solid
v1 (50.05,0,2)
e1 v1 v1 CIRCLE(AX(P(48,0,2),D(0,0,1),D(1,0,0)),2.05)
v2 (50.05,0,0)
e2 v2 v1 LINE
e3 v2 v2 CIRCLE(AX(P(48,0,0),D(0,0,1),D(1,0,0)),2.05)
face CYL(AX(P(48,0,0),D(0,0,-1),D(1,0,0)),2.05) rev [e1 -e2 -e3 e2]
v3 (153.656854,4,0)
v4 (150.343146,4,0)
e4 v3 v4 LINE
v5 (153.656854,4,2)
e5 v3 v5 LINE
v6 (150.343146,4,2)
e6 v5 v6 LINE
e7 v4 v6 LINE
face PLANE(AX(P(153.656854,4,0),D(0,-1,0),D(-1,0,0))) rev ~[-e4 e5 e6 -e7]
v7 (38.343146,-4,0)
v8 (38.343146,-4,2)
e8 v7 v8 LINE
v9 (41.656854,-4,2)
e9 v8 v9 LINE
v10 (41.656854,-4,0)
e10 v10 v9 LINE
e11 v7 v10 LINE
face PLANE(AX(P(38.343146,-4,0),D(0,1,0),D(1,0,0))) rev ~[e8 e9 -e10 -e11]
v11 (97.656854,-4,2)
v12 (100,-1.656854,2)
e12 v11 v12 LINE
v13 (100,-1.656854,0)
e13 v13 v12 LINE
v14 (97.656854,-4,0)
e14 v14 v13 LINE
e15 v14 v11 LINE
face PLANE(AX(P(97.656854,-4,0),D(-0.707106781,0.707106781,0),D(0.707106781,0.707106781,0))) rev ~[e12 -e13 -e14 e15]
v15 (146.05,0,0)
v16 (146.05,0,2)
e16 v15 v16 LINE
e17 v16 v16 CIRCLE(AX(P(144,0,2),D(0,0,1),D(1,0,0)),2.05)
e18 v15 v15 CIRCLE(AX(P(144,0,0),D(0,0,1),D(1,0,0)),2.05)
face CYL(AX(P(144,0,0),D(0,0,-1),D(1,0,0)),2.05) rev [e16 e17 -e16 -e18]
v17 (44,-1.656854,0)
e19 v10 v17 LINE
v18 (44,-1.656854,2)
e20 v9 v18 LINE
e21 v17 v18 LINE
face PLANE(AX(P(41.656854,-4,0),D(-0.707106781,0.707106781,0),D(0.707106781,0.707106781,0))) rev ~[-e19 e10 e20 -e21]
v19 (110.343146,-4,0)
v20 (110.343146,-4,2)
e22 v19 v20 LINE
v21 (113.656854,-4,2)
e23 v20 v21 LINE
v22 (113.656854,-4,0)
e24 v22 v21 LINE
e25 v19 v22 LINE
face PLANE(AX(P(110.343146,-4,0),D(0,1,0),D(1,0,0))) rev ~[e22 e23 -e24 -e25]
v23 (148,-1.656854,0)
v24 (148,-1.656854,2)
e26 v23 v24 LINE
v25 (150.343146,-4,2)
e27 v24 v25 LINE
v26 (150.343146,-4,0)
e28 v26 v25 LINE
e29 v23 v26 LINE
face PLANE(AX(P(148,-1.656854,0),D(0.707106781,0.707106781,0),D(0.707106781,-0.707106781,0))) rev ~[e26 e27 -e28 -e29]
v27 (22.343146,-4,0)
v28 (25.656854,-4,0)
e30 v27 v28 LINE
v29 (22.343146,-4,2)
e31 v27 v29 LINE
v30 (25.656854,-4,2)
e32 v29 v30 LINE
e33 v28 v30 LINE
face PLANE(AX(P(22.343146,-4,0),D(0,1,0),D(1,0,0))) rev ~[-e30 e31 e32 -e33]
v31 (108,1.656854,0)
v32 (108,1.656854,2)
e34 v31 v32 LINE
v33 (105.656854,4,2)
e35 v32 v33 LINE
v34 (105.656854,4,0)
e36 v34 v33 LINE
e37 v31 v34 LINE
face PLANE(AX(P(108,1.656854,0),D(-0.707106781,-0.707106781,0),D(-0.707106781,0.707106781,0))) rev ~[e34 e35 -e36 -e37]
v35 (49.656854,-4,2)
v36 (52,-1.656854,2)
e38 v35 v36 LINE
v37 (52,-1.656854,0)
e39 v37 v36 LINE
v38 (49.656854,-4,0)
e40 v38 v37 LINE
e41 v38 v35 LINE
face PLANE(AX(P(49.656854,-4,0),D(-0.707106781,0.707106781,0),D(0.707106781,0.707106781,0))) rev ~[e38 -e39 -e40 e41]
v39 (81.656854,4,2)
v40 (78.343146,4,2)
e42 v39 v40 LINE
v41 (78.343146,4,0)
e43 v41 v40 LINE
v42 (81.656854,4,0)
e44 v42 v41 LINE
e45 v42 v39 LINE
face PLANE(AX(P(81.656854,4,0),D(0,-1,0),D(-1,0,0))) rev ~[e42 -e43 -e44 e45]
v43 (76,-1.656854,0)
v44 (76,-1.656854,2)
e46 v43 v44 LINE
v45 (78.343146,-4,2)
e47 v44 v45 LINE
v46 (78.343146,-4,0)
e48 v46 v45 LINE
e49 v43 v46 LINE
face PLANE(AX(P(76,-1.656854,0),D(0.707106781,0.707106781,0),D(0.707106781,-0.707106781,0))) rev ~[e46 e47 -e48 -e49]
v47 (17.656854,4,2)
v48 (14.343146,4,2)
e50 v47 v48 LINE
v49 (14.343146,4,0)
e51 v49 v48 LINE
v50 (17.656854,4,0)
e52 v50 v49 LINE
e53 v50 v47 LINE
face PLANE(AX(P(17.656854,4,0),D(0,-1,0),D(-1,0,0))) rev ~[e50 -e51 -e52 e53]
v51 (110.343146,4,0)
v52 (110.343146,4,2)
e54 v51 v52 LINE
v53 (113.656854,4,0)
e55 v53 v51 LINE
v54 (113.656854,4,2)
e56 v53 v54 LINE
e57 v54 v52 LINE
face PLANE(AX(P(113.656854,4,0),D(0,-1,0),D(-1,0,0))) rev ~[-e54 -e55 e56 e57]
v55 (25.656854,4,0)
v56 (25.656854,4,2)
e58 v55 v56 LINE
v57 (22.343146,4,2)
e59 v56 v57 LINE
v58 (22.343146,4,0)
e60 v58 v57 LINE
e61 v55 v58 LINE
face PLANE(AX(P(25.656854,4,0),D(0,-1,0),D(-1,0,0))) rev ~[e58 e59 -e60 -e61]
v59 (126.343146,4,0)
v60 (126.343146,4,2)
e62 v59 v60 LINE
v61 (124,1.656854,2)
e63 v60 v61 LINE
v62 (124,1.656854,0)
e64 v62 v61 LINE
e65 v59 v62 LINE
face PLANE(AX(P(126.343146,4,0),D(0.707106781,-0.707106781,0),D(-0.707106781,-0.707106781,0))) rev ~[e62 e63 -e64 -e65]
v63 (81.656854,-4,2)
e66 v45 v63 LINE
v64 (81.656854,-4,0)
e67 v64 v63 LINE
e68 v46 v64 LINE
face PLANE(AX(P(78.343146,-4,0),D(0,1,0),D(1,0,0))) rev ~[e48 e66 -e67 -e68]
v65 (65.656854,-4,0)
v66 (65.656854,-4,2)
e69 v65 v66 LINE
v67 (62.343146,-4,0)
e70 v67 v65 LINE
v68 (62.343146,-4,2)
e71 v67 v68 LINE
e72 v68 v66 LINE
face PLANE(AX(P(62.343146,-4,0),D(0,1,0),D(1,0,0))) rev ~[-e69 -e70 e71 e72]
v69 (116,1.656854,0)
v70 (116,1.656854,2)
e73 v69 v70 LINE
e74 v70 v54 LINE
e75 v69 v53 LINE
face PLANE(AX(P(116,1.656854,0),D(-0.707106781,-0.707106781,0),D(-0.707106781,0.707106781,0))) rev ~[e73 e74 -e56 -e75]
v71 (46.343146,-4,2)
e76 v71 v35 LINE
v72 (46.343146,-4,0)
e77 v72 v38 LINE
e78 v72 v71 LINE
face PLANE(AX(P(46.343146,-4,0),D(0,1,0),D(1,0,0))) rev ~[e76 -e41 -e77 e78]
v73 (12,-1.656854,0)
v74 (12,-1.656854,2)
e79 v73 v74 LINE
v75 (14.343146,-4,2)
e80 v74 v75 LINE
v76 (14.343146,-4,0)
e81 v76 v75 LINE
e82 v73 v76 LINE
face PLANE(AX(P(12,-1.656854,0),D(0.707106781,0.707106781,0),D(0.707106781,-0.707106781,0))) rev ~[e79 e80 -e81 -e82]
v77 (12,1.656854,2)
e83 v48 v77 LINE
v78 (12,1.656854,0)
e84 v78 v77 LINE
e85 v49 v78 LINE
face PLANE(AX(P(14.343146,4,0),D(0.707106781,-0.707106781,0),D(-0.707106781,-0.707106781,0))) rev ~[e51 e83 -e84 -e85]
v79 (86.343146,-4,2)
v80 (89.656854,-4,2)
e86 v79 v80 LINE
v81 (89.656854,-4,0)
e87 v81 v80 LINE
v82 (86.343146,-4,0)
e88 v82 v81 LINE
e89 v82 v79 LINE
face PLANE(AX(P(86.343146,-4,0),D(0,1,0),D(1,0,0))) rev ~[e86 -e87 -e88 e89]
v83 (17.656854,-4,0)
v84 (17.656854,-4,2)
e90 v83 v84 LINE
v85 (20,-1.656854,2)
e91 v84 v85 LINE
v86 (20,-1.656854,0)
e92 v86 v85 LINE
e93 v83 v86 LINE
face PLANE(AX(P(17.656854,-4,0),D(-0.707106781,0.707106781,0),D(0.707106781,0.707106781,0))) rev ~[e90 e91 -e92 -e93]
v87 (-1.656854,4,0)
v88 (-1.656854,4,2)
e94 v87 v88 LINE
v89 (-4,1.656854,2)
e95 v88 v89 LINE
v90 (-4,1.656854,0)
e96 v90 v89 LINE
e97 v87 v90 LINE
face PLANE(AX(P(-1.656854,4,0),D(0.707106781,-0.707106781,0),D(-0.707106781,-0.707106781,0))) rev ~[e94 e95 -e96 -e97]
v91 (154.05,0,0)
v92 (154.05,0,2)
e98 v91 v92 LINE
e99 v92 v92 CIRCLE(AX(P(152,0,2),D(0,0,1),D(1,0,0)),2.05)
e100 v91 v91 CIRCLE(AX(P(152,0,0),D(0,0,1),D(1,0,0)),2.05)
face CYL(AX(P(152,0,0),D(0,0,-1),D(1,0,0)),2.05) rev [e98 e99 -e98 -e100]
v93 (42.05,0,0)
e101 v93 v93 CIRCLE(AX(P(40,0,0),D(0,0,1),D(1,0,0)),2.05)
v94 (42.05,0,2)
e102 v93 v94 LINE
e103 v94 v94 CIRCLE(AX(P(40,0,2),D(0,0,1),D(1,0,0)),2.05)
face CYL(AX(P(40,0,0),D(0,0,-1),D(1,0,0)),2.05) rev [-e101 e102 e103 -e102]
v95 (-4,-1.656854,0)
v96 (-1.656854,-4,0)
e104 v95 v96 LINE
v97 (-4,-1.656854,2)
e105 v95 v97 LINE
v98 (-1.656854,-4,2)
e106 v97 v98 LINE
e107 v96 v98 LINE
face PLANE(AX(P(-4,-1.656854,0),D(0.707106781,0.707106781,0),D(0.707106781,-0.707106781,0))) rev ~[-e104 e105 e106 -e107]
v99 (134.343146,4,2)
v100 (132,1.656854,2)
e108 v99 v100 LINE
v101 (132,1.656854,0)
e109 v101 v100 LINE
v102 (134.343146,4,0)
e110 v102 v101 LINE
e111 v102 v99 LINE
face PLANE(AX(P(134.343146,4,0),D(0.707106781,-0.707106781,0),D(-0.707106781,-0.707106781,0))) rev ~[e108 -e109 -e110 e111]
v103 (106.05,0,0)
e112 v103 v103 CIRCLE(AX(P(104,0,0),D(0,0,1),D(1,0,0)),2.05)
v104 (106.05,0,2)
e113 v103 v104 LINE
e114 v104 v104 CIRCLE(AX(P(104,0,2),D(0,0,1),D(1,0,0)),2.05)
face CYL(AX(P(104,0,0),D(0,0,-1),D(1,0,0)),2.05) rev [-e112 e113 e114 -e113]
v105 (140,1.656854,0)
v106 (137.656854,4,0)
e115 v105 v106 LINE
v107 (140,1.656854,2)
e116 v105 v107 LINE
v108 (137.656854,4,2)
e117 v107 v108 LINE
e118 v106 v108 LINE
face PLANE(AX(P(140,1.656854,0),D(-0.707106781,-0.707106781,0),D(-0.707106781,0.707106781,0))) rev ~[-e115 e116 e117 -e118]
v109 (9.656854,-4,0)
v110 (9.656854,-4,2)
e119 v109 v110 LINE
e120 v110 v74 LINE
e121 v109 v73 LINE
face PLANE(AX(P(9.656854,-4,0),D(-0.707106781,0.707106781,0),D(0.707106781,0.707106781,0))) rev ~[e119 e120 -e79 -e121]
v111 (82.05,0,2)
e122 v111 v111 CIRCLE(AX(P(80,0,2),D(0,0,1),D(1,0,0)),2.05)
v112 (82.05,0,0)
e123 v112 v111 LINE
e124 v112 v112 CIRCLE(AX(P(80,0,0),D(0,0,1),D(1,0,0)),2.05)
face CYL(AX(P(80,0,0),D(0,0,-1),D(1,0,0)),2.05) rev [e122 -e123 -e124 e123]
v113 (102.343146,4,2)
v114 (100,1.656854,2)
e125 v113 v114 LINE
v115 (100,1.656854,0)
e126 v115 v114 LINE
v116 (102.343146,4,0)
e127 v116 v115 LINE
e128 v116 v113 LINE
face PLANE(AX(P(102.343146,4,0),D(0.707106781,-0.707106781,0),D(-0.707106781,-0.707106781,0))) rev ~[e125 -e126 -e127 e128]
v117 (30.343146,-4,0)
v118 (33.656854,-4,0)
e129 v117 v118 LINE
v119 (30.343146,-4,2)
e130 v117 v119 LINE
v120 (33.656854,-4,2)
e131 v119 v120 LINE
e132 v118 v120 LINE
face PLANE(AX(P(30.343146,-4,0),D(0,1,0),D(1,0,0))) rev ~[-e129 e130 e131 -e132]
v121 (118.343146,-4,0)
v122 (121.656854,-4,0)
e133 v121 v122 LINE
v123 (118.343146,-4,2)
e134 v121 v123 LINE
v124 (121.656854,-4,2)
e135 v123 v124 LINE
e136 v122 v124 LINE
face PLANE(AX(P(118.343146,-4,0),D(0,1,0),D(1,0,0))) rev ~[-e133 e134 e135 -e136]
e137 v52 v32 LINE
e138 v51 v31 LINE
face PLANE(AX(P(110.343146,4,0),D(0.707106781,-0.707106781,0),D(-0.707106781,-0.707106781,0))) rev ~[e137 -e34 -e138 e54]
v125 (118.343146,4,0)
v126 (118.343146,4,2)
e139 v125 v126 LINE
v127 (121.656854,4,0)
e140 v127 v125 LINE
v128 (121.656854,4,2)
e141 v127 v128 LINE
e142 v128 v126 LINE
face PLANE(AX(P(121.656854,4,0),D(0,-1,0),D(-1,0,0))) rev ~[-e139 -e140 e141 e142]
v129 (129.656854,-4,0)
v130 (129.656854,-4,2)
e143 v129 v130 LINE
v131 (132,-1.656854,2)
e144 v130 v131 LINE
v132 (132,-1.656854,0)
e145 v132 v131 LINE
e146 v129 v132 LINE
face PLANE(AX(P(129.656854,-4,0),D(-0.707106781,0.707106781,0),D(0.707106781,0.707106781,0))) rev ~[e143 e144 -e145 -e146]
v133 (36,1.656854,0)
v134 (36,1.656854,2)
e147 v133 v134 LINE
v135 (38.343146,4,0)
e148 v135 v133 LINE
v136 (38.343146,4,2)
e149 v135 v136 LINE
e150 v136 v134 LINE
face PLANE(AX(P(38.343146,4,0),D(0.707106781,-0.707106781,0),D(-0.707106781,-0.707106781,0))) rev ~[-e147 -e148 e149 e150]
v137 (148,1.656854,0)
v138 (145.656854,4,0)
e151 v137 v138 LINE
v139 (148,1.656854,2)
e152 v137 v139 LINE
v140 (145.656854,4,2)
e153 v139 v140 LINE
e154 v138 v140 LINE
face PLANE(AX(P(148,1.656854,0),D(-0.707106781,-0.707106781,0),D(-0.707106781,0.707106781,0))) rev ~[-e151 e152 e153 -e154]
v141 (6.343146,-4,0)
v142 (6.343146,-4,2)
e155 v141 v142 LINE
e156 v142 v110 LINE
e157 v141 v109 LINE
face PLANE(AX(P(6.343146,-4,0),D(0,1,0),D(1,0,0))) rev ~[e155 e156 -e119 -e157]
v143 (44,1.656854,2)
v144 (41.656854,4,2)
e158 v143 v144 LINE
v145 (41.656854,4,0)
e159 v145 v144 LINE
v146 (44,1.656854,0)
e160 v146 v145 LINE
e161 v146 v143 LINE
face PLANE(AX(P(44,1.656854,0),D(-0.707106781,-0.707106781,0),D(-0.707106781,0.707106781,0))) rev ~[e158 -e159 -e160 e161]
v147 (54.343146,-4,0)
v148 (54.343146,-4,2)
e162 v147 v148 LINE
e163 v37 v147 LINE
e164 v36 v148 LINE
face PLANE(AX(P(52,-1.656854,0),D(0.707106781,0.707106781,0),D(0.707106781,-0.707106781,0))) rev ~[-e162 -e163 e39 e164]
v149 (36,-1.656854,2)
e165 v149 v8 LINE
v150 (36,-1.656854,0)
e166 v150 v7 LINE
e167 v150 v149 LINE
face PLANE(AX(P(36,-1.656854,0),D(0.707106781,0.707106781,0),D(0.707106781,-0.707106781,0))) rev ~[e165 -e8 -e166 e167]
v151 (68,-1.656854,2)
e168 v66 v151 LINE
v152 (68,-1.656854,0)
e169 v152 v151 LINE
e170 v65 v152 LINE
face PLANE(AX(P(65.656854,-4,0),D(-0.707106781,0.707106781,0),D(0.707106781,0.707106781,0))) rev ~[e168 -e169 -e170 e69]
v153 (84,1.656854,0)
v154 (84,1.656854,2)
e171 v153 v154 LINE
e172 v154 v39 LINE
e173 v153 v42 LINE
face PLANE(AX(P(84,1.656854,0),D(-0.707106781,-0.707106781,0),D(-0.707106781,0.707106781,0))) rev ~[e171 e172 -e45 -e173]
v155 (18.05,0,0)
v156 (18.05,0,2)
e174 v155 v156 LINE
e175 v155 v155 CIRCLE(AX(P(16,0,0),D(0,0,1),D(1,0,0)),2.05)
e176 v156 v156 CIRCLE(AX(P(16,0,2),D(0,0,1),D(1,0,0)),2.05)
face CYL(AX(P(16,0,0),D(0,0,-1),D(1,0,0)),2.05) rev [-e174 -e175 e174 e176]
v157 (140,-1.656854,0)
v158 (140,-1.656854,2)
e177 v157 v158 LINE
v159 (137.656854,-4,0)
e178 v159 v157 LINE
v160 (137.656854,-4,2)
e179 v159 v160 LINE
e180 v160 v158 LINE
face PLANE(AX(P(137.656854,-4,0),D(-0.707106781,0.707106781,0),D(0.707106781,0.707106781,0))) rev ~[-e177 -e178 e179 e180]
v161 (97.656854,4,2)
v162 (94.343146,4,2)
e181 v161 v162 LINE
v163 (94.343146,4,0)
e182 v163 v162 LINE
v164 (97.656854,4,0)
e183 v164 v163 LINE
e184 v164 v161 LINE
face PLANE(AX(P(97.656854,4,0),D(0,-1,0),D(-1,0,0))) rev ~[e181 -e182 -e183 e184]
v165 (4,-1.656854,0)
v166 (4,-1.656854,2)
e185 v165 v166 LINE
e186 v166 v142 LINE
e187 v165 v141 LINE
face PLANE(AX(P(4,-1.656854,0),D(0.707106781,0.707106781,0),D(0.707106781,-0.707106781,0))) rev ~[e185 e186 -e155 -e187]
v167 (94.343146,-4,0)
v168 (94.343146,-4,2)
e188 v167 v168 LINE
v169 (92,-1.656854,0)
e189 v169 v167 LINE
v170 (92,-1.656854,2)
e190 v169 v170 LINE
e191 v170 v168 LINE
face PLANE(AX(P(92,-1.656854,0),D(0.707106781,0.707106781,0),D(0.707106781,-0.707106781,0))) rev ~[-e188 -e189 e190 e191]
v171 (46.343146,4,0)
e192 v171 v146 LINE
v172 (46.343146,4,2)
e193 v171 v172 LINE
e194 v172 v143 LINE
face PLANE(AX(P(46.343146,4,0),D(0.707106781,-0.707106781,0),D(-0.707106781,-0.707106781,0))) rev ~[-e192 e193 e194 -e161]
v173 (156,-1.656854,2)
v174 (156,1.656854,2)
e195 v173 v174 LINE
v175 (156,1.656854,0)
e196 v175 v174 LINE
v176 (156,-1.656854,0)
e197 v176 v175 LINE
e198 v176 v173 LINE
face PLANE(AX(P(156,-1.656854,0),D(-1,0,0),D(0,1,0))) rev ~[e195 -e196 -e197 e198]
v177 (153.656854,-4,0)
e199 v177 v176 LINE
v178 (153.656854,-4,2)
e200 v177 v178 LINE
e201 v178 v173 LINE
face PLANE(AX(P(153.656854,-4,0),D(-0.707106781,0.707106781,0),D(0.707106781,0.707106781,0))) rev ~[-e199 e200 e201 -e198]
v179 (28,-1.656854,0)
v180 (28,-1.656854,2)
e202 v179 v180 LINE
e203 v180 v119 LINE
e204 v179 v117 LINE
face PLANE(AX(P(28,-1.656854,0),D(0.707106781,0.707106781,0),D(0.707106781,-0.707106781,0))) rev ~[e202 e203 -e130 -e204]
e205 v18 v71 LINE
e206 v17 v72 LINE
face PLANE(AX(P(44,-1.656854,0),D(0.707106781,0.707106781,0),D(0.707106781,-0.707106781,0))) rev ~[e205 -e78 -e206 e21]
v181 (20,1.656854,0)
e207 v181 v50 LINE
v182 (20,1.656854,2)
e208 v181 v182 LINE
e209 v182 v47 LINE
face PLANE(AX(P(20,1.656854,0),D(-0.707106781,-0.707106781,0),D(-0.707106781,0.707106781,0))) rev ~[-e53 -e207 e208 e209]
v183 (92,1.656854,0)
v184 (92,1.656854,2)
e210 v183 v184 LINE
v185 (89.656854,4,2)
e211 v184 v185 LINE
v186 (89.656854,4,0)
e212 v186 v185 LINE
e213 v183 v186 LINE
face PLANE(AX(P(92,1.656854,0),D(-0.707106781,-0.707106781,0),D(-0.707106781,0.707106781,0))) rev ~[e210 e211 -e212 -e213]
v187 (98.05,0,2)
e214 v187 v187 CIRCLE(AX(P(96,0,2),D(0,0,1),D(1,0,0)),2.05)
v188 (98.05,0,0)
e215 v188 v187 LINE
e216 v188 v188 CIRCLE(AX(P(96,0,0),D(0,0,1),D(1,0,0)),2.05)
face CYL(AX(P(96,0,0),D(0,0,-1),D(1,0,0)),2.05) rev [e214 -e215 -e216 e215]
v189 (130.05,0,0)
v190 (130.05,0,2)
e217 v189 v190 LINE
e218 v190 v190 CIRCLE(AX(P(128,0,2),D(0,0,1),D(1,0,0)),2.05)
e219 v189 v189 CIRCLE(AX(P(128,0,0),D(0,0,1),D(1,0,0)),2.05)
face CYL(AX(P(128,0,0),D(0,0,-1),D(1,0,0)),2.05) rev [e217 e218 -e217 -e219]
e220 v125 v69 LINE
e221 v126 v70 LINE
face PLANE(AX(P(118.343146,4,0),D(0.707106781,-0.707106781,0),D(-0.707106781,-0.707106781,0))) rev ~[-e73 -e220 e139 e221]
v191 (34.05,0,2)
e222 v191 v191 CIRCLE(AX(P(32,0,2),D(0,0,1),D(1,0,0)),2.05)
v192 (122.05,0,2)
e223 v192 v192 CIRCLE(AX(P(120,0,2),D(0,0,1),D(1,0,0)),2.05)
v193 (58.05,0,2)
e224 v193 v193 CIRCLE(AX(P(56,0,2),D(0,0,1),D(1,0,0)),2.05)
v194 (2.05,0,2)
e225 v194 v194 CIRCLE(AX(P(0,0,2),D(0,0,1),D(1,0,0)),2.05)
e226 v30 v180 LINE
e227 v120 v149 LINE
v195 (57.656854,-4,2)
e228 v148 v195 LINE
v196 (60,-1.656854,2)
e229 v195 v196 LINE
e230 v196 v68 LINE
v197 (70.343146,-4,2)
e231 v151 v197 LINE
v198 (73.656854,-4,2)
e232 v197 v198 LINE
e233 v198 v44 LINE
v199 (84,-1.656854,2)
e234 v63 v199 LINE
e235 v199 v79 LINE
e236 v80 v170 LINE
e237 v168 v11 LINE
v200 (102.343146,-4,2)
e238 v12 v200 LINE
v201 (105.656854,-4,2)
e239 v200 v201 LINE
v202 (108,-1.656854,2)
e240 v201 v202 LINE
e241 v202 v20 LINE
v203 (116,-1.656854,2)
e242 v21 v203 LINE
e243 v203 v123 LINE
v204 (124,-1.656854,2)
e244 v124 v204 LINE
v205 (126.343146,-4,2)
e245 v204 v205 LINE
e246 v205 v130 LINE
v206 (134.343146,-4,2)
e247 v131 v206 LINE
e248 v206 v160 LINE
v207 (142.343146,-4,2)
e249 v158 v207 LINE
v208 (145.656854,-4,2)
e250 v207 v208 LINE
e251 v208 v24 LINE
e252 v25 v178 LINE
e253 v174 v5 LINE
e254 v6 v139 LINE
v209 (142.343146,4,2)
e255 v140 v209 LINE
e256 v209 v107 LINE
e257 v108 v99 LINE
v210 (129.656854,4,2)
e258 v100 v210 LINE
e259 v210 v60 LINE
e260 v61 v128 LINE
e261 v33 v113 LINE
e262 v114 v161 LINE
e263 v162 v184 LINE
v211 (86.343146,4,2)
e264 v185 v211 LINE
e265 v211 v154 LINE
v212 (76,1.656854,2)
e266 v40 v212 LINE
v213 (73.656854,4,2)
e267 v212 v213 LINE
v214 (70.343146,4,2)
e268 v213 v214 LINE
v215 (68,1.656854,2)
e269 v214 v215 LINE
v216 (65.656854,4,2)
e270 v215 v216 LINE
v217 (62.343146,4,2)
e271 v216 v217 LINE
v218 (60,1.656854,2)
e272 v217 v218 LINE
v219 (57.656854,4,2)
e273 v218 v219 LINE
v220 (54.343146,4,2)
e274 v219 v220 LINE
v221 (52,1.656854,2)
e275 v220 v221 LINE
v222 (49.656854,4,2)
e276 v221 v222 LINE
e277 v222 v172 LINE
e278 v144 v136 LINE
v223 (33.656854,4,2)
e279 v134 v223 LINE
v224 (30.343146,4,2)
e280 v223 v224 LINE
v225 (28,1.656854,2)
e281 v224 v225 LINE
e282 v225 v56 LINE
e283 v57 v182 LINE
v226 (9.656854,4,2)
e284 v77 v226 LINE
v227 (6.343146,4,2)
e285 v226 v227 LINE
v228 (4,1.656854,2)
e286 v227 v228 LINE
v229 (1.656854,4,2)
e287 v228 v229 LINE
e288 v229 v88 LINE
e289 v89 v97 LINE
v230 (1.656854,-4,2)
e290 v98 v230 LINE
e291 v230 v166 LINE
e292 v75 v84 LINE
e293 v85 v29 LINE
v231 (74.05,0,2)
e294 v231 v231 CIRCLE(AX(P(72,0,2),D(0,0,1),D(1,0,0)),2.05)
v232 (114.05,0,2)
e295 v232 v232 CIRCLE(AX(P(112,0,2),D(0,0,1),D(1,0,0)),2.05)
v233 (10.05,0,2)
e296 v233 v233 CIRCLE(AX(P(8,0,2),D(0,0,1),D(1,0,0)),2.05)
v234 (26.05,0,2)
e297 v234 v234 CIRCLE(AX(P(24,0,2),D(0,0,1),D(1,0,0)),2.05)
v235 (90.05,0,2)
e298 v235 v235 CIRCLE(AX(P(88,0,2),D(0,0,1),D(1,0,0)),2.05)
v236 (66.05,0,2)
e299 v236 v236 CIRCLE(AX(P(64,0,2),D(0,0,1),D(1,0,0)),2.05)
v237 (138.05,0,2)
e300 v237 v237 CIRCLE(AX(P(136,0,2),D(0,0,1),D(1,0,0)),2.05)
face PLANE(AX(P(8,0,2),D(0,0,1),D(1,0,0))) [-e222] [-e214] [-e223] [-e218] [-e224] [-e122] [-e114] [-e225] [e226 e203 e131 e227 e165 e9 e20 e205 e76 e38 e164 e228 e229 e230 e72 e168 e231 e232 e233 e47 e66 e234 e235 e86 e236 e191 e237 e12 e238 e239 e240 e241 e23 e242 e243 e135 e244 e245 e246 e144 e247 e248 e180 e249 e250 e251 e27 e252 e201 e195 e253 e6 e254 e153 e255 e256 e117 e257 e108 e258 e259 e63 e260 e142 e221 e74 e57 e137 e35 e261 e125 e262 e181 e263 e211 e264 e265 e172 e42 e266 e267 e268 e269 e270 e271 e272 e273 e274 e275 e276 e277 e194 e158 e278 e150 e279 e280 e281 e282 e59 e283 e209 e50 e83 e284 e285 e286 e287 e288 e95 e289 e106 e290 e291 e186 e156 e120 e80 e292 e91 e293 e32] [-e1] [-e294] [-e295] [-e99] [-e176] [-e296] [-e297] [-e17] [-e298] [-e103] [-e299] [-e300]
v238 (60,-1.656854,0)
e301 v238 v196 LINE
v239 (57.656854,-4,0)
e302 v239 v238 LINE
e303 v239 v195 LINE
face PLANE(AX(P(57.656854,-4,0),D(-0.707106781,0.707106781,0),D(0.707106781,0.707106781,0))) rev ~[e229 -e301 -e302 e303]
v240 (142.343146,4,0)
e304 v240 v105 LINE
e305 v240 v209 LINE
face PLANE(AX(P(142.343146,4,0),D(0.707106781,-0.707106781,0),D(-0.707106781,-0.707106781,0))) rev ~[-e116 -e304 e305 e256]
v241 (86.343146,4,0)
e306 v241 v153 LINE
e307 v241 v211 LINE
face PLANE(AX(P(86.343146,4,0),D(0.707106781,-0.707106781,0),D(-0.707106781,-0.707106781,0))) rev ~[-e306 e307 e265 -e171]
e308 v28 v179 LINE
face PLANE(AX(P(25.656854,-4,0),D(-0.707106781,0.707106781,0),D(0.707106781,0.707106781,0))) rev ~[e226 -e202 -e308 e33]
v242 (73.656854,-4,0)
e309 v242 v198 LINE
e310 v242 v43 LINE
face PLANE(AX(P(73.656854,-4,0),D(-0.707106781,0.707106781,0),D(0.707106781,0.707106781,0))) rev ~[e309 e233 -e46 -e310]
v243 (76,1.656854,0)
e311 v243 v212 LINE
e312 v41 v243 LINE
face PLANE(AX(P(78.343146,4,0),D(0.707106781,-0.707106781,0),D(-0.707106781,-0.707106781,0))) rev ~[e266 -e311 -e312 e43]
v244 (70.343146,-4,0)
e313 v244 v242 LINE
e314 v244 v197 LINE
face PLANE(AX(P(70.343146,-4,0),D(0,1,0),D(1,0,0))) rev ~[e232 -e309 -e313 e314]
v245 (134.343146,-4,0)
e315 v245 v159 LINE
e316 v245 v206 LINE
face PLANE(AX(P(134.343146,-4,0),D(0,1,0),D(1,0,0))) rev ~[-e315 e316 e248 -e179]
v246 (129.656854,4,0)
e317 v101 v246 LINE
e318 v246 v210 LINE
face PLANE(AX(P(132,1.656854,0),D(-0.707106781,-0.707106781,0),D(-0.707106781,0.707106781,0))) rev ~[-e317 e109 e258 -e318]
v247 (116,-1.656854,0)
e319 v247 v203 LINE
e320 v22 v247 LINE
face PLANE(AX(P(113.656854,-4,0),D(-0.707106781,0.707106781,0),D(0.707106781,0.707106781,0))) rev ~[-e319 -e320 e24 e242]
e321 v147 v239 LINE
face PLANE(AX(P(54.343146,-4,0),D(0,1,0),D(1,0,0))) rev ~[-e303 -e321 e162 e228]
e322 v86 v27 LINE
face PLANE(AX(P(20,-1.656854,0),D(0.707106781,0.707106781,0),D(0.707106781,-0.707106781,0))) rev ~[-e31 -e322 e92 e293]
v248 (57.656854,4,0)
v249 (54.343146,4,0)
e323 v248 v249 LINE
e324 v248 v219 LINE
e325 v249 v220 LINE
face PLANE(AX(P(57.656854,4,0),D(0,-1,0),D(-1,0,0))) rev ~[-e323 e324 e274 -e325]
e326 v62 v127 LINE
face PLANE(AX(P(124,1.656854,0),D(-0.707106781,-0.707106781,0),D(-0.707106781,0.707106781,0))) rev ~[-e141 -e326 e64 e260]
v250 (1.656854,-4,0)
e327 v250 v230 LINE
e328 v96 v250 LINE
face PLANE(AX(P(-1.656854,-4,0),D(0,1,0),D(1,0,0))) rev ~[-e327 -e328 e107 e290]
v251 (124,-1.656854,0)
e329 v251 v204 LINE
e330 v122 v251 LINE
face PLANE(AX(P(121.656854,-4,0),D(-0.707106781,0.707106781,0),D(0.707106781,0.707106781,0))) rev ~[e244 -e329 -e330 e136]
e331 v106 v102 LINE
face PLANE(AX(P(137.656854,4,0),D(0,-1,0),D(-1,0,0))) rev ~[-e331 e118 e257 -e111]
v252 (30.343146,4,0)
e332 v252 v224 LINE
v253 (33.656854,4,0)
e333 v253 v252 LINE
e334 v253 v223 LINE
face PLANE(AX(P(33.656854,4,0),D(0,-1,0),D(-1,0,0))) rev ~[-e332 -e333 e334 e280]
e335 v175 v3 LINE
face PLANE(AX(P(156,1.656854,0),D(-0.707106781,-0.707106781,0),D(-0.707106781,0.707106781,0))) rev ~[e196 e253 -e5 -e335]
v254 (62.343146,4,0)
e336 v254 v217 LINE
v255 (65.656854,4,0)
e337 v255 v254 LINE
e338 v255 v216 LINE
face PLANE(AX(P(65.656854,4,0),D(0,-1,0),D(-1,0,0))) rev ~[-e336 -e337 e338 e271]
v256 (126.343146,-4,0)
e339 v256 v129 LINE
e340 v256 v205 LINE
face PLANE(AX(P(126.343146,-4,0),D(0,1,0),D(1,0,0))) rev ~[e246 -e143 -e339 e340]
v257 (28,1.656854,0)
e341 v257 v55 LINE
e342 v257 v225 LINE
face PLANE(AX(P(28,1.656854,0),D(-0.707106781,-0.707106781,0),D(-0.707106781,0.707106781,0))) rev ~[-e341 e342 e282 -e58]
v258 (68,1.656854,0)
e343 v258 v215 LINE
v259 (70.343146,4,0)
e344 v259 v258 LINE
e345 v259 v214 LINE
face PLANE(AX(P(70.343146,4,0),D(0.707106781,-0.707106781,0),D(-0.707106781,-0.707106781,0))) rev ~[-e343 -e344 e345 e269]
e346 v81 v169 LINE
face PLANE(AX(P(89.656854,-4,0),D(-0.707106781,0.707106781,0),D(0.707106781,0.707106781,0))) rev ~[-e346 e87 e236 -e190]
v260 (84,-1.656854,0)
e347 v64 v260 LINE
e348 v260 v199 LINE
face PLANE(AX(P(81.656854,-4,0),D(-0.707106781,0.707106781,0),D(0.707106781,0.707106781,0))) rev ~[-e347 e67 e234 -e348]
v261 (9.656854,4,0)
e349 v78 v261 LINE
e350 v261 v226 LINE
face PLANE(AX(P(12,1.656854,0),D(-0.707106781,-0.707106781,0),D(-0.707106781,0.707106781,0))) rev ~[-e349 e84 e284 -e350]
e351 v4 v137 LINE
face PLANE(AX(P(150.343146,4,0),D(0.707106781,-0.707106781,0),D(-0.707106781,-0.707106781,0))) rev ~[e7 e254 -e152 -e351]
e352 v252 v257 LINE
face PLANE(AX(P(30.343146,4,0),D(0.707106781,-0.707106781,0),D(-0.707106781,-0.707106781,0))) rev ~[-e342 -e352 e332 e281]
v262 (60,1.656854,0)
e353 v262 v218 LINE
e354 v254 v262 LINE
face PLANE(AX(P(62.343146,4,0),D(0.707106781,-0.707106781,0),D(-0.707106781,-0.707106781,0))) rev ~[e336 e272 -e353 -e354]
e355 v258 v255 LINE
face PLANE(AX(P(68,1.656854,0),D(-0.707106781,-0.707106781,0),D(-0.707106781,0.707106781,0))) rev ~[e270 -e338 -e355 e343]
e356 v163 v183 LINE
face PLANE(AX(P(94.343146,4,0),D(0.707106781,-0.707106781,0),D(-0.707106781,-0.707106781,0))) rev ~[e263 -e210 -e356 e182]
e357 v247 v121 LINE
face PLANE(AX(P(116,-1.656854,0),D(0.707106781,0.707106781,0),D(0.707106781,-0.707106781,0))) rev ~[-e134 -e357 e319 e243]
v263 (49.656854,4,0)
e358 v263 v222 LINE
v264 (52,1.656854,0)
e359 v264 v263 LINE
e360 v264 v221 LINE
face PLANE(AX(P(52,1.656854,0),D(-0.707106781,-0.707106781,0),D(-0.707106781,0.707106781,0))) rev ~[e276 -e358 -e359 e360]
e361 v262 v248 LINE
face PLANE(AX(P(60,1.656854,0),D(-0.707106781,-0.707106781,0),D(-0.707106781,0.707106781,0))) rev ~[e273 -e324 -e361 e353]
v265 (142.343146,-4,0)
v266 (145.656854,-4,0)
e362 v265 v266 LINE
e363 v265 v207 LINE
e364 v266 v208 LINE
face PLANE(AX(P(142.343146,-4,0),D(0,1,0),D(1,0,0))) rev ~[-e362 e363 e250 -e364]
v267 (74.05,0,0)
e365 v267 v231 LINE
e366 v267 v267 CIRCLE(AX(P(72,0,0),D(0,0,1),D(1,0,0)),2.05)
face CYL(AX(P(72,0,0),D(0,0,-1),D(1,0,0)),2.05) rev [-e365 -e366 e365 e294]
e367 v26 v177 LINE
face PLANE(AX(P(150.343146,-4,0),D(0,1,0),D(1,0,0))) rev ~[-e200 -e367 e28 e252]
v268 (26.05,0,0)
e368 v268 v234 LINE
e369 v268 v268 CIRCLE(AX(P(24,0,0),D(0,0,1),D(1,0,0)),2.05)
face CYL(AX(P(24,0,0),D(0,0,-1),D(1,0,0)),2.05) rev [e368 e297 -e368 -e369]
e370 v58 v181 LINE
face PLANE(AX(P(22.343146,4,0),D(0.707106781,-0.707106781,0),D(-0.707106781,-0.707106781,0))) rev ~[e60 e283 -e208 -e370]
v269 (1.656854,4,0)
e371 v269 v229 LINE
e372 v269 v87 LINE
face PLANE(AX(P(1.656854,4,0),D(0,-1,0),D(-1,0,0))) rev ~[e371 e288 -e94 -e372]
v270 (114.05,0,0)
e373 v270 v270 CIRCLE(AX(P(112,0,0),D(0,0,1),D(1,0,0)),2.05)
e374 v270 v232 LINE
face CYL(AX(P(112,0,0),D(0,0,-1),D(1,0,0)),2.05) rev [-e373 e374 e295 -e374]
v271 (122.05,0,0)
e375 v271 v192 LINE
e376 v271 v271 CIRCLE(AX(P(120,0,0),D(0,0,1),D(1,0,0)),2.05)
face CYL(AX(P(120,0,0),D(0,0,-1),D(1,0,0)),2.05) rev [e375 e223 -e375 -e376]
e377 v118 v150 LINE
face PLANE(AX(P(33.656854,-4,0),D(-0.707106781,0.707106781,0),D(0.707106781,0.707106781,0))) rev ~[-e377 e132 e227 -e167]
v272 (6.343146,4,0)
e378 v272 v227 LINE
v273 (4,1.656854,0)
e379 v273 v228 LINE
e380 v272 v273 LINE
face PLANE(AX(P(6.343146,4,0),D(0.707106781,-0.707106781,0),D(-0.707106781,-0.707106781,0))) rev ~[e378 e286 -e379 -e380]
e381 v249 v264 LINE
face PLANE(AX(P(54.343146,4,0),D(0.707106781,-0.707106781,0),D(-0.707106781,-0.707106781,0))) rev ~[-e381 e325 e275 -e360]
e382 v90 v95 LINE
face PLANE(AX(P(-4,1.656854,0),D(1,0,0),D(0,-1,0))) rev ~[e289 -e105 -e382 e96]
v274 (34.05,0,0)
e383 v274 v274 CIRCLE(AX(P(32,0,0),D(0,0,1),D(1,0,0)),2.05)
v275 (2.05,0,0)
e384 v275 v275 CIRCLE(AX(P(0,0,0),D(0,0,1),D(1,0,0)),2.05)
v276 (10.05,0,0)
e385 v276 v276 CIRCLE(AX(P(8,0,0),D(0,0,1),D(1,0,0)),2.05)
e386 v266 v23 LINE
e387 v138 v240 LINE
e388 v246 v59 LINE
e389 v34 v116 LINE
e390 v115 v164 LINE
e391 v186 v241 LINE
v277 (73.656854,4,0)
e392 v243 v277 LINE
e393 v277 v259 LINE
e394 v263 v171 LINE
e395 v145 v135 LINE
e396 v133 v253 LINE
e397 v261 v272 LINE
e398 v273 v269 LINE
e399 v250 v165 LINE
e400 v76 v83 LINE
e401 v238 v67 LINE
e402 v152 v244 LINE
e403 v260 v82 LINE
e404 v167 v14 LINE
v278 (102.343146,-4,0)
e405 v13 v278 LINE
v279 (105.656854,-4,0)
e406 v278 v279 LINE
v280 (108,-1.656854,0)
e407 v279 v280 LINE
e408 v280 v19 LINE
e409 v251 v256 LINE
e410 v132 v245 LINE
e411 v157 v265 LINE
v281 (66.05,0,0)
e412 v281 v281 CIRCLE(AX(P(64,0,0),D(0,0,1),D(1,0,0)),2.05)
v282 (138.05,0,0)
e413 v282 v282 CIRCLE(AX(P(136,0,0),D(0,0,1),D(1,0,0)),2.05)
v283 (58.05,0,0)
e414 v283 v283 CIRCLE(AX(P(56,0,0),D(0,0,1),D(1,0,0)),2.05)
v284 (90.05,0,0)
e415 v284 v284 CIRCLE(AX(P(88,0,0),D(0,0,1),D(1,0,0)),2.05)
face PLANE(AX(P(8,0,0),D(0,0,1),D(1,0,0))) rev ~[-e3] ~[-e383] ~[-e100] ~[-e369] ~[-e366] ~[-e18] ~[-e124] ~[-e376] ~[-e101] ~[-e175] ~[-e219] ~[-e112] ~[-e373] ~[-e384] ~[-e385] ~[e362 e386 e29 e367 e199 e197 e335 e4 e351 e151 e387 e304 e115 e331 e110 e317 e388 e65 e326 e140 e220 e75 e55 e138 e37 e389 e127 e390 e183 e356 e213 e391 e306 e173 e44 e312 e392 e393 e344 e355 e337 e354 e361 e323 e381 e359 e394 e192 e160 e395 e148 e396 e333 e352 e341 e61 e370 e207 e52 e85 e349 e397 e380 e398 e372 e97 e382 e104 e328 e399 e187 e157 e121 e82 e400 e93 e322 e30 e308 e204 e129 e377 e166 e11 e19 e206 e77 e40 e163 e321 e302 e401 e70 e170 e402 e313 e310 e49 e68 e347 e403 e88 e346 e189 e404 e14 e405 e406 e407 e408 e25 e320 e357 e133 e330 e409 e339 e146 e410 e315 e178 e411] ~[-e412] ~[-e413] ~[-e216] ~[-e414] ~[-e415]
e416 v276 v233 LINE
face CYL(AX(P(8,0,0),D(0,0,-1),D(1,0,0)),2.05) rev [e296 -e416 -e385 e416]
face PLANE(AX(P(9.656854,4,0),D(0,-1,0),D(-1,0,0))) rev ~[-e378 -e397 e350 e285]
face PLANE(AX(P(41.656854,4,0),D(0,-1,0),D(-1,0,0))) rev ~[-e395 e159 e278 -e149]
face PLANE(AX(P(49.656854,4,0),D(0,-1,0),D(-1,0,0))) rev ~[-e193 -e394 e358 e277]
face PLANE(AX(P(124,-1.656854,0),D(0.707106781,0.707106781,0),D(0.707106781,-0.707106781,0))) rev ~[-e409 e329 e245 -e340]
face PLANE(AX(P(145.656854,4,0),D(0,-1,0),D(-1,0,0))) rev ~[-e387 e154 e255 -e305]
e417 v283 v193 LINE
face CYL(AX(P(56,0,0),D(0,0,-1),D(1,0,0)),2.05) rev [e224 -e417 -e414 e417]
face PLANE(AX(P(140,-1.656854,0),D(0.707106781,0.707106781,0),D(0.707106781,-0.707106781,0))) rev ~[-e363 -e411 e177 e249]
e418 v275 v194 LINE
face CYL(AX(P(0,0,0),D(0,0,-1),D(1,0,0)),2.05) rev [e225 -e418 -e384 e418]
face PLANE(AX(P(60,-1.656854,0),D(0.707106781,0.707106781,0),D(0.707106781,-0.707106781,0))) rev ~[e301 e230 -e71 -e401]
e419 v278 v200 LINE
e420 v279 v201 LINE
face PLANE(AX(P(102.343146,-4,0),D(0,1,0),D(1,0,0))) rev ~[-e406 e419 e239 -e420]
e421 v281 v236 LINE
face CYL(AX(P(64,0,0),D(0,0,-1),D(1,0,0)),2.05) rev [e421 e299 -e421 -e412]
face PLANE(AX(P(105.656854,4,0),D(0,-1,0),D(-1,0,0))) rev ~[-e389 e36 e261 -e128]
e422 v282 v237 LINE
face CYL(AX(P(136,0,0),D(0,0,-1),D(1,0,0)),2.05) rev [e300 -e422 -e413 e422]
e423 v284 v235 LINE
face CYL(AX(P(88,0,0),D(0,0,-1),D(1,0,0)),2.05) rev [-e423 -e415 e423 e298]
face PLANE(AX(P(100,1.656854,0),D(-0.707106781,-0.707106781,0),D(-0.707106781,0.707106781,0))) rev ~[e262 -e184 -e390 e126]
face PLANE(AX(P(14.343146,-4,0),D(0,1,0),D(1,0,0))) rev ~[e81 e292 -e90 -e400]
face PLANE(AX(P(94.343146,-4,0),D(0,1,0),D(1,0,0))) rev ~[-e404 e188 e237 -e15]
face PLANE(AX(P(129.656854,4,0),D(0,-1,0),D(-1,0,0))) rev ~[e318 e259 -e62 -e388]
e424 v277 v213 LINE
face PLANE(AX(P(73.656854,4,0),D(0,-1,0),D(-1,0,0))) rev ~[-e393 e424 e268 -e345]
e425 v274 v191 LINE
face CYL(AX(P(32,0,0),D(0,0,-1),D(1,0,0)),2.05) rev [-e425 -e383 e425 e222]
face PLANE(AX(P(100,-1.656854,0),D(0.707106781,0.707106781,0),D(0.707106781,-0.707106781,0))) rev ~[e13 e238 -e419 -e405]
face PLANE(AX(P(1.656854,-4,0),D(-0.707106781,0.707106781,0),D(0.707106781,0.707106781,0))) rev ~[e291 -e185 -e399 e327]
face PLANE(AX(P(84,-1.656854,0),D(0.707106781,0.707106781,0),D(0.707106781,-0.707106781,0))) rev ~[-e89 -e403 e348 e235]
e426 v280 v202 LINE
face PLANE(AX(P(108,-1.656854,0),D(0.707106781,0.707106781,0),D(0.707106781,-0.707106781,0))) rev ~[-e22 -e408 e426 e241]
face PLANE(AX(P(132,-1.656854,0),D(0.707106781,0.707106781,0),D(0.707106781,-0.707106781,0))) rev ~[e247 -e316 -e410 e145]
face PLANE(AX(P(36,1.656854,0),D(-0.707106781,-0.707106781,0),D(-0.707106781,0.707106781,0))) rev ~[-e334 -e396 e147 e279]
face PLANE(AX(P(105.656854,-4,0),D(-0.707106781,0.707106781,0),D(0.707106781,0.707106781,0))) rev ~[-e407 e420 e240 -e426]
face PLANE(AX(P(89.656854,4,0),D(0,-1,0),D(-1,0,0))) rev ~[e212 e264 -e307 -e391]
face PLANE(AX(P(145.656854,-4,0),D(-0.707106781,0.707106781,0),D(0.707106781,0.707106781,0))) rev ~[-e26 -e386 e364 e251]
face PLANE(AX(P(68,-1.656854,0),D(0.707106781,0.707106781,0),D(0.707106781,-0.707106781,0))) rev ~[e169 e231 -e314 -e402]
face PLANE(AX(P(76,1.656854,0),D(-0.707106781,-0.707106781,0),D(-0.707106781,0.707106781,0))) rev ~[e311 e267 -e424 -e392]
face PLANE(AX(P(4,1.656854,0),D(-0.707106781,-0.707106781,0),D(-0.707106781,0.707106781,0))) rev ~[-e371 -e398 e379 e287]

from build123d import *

# Parameters (mm, degrees)
SKETCH1_R           = 2.05
BOSS_EXTRUDE1_DEPTH = 2
LPATTERN1_COUNT     = 20
LPATTERN1_PITCH     = 8


with BuildPart() as part:
    # Sketch1 → Boss-Extrude1 (new body)
    with BuildSketch(Plane.XY):
        Polygon((1.656854249, 4), (-1.656854249, 4), (-4, 1.656854249), (-4, -1.656854249), (-1.656854249, -4), (1.656854249, -4), (4, -1.656854249), (4, 1.656854249), align=None)
        Circle(SKETCH1_R, mode=Mode.SUBTRACT)
    boss_extrude1 = extrude(amount=BOSS_EXTRUDE1_DEPTH)

    # LPattern1: Boss-Extrude1 ×20
    with Locations(*[(i * LPATTERN1_PITCH, 0, 0) for i in range(1, LPATTERN1_COUNT)]):
        add(boss_extrude1)


solid = part.part
